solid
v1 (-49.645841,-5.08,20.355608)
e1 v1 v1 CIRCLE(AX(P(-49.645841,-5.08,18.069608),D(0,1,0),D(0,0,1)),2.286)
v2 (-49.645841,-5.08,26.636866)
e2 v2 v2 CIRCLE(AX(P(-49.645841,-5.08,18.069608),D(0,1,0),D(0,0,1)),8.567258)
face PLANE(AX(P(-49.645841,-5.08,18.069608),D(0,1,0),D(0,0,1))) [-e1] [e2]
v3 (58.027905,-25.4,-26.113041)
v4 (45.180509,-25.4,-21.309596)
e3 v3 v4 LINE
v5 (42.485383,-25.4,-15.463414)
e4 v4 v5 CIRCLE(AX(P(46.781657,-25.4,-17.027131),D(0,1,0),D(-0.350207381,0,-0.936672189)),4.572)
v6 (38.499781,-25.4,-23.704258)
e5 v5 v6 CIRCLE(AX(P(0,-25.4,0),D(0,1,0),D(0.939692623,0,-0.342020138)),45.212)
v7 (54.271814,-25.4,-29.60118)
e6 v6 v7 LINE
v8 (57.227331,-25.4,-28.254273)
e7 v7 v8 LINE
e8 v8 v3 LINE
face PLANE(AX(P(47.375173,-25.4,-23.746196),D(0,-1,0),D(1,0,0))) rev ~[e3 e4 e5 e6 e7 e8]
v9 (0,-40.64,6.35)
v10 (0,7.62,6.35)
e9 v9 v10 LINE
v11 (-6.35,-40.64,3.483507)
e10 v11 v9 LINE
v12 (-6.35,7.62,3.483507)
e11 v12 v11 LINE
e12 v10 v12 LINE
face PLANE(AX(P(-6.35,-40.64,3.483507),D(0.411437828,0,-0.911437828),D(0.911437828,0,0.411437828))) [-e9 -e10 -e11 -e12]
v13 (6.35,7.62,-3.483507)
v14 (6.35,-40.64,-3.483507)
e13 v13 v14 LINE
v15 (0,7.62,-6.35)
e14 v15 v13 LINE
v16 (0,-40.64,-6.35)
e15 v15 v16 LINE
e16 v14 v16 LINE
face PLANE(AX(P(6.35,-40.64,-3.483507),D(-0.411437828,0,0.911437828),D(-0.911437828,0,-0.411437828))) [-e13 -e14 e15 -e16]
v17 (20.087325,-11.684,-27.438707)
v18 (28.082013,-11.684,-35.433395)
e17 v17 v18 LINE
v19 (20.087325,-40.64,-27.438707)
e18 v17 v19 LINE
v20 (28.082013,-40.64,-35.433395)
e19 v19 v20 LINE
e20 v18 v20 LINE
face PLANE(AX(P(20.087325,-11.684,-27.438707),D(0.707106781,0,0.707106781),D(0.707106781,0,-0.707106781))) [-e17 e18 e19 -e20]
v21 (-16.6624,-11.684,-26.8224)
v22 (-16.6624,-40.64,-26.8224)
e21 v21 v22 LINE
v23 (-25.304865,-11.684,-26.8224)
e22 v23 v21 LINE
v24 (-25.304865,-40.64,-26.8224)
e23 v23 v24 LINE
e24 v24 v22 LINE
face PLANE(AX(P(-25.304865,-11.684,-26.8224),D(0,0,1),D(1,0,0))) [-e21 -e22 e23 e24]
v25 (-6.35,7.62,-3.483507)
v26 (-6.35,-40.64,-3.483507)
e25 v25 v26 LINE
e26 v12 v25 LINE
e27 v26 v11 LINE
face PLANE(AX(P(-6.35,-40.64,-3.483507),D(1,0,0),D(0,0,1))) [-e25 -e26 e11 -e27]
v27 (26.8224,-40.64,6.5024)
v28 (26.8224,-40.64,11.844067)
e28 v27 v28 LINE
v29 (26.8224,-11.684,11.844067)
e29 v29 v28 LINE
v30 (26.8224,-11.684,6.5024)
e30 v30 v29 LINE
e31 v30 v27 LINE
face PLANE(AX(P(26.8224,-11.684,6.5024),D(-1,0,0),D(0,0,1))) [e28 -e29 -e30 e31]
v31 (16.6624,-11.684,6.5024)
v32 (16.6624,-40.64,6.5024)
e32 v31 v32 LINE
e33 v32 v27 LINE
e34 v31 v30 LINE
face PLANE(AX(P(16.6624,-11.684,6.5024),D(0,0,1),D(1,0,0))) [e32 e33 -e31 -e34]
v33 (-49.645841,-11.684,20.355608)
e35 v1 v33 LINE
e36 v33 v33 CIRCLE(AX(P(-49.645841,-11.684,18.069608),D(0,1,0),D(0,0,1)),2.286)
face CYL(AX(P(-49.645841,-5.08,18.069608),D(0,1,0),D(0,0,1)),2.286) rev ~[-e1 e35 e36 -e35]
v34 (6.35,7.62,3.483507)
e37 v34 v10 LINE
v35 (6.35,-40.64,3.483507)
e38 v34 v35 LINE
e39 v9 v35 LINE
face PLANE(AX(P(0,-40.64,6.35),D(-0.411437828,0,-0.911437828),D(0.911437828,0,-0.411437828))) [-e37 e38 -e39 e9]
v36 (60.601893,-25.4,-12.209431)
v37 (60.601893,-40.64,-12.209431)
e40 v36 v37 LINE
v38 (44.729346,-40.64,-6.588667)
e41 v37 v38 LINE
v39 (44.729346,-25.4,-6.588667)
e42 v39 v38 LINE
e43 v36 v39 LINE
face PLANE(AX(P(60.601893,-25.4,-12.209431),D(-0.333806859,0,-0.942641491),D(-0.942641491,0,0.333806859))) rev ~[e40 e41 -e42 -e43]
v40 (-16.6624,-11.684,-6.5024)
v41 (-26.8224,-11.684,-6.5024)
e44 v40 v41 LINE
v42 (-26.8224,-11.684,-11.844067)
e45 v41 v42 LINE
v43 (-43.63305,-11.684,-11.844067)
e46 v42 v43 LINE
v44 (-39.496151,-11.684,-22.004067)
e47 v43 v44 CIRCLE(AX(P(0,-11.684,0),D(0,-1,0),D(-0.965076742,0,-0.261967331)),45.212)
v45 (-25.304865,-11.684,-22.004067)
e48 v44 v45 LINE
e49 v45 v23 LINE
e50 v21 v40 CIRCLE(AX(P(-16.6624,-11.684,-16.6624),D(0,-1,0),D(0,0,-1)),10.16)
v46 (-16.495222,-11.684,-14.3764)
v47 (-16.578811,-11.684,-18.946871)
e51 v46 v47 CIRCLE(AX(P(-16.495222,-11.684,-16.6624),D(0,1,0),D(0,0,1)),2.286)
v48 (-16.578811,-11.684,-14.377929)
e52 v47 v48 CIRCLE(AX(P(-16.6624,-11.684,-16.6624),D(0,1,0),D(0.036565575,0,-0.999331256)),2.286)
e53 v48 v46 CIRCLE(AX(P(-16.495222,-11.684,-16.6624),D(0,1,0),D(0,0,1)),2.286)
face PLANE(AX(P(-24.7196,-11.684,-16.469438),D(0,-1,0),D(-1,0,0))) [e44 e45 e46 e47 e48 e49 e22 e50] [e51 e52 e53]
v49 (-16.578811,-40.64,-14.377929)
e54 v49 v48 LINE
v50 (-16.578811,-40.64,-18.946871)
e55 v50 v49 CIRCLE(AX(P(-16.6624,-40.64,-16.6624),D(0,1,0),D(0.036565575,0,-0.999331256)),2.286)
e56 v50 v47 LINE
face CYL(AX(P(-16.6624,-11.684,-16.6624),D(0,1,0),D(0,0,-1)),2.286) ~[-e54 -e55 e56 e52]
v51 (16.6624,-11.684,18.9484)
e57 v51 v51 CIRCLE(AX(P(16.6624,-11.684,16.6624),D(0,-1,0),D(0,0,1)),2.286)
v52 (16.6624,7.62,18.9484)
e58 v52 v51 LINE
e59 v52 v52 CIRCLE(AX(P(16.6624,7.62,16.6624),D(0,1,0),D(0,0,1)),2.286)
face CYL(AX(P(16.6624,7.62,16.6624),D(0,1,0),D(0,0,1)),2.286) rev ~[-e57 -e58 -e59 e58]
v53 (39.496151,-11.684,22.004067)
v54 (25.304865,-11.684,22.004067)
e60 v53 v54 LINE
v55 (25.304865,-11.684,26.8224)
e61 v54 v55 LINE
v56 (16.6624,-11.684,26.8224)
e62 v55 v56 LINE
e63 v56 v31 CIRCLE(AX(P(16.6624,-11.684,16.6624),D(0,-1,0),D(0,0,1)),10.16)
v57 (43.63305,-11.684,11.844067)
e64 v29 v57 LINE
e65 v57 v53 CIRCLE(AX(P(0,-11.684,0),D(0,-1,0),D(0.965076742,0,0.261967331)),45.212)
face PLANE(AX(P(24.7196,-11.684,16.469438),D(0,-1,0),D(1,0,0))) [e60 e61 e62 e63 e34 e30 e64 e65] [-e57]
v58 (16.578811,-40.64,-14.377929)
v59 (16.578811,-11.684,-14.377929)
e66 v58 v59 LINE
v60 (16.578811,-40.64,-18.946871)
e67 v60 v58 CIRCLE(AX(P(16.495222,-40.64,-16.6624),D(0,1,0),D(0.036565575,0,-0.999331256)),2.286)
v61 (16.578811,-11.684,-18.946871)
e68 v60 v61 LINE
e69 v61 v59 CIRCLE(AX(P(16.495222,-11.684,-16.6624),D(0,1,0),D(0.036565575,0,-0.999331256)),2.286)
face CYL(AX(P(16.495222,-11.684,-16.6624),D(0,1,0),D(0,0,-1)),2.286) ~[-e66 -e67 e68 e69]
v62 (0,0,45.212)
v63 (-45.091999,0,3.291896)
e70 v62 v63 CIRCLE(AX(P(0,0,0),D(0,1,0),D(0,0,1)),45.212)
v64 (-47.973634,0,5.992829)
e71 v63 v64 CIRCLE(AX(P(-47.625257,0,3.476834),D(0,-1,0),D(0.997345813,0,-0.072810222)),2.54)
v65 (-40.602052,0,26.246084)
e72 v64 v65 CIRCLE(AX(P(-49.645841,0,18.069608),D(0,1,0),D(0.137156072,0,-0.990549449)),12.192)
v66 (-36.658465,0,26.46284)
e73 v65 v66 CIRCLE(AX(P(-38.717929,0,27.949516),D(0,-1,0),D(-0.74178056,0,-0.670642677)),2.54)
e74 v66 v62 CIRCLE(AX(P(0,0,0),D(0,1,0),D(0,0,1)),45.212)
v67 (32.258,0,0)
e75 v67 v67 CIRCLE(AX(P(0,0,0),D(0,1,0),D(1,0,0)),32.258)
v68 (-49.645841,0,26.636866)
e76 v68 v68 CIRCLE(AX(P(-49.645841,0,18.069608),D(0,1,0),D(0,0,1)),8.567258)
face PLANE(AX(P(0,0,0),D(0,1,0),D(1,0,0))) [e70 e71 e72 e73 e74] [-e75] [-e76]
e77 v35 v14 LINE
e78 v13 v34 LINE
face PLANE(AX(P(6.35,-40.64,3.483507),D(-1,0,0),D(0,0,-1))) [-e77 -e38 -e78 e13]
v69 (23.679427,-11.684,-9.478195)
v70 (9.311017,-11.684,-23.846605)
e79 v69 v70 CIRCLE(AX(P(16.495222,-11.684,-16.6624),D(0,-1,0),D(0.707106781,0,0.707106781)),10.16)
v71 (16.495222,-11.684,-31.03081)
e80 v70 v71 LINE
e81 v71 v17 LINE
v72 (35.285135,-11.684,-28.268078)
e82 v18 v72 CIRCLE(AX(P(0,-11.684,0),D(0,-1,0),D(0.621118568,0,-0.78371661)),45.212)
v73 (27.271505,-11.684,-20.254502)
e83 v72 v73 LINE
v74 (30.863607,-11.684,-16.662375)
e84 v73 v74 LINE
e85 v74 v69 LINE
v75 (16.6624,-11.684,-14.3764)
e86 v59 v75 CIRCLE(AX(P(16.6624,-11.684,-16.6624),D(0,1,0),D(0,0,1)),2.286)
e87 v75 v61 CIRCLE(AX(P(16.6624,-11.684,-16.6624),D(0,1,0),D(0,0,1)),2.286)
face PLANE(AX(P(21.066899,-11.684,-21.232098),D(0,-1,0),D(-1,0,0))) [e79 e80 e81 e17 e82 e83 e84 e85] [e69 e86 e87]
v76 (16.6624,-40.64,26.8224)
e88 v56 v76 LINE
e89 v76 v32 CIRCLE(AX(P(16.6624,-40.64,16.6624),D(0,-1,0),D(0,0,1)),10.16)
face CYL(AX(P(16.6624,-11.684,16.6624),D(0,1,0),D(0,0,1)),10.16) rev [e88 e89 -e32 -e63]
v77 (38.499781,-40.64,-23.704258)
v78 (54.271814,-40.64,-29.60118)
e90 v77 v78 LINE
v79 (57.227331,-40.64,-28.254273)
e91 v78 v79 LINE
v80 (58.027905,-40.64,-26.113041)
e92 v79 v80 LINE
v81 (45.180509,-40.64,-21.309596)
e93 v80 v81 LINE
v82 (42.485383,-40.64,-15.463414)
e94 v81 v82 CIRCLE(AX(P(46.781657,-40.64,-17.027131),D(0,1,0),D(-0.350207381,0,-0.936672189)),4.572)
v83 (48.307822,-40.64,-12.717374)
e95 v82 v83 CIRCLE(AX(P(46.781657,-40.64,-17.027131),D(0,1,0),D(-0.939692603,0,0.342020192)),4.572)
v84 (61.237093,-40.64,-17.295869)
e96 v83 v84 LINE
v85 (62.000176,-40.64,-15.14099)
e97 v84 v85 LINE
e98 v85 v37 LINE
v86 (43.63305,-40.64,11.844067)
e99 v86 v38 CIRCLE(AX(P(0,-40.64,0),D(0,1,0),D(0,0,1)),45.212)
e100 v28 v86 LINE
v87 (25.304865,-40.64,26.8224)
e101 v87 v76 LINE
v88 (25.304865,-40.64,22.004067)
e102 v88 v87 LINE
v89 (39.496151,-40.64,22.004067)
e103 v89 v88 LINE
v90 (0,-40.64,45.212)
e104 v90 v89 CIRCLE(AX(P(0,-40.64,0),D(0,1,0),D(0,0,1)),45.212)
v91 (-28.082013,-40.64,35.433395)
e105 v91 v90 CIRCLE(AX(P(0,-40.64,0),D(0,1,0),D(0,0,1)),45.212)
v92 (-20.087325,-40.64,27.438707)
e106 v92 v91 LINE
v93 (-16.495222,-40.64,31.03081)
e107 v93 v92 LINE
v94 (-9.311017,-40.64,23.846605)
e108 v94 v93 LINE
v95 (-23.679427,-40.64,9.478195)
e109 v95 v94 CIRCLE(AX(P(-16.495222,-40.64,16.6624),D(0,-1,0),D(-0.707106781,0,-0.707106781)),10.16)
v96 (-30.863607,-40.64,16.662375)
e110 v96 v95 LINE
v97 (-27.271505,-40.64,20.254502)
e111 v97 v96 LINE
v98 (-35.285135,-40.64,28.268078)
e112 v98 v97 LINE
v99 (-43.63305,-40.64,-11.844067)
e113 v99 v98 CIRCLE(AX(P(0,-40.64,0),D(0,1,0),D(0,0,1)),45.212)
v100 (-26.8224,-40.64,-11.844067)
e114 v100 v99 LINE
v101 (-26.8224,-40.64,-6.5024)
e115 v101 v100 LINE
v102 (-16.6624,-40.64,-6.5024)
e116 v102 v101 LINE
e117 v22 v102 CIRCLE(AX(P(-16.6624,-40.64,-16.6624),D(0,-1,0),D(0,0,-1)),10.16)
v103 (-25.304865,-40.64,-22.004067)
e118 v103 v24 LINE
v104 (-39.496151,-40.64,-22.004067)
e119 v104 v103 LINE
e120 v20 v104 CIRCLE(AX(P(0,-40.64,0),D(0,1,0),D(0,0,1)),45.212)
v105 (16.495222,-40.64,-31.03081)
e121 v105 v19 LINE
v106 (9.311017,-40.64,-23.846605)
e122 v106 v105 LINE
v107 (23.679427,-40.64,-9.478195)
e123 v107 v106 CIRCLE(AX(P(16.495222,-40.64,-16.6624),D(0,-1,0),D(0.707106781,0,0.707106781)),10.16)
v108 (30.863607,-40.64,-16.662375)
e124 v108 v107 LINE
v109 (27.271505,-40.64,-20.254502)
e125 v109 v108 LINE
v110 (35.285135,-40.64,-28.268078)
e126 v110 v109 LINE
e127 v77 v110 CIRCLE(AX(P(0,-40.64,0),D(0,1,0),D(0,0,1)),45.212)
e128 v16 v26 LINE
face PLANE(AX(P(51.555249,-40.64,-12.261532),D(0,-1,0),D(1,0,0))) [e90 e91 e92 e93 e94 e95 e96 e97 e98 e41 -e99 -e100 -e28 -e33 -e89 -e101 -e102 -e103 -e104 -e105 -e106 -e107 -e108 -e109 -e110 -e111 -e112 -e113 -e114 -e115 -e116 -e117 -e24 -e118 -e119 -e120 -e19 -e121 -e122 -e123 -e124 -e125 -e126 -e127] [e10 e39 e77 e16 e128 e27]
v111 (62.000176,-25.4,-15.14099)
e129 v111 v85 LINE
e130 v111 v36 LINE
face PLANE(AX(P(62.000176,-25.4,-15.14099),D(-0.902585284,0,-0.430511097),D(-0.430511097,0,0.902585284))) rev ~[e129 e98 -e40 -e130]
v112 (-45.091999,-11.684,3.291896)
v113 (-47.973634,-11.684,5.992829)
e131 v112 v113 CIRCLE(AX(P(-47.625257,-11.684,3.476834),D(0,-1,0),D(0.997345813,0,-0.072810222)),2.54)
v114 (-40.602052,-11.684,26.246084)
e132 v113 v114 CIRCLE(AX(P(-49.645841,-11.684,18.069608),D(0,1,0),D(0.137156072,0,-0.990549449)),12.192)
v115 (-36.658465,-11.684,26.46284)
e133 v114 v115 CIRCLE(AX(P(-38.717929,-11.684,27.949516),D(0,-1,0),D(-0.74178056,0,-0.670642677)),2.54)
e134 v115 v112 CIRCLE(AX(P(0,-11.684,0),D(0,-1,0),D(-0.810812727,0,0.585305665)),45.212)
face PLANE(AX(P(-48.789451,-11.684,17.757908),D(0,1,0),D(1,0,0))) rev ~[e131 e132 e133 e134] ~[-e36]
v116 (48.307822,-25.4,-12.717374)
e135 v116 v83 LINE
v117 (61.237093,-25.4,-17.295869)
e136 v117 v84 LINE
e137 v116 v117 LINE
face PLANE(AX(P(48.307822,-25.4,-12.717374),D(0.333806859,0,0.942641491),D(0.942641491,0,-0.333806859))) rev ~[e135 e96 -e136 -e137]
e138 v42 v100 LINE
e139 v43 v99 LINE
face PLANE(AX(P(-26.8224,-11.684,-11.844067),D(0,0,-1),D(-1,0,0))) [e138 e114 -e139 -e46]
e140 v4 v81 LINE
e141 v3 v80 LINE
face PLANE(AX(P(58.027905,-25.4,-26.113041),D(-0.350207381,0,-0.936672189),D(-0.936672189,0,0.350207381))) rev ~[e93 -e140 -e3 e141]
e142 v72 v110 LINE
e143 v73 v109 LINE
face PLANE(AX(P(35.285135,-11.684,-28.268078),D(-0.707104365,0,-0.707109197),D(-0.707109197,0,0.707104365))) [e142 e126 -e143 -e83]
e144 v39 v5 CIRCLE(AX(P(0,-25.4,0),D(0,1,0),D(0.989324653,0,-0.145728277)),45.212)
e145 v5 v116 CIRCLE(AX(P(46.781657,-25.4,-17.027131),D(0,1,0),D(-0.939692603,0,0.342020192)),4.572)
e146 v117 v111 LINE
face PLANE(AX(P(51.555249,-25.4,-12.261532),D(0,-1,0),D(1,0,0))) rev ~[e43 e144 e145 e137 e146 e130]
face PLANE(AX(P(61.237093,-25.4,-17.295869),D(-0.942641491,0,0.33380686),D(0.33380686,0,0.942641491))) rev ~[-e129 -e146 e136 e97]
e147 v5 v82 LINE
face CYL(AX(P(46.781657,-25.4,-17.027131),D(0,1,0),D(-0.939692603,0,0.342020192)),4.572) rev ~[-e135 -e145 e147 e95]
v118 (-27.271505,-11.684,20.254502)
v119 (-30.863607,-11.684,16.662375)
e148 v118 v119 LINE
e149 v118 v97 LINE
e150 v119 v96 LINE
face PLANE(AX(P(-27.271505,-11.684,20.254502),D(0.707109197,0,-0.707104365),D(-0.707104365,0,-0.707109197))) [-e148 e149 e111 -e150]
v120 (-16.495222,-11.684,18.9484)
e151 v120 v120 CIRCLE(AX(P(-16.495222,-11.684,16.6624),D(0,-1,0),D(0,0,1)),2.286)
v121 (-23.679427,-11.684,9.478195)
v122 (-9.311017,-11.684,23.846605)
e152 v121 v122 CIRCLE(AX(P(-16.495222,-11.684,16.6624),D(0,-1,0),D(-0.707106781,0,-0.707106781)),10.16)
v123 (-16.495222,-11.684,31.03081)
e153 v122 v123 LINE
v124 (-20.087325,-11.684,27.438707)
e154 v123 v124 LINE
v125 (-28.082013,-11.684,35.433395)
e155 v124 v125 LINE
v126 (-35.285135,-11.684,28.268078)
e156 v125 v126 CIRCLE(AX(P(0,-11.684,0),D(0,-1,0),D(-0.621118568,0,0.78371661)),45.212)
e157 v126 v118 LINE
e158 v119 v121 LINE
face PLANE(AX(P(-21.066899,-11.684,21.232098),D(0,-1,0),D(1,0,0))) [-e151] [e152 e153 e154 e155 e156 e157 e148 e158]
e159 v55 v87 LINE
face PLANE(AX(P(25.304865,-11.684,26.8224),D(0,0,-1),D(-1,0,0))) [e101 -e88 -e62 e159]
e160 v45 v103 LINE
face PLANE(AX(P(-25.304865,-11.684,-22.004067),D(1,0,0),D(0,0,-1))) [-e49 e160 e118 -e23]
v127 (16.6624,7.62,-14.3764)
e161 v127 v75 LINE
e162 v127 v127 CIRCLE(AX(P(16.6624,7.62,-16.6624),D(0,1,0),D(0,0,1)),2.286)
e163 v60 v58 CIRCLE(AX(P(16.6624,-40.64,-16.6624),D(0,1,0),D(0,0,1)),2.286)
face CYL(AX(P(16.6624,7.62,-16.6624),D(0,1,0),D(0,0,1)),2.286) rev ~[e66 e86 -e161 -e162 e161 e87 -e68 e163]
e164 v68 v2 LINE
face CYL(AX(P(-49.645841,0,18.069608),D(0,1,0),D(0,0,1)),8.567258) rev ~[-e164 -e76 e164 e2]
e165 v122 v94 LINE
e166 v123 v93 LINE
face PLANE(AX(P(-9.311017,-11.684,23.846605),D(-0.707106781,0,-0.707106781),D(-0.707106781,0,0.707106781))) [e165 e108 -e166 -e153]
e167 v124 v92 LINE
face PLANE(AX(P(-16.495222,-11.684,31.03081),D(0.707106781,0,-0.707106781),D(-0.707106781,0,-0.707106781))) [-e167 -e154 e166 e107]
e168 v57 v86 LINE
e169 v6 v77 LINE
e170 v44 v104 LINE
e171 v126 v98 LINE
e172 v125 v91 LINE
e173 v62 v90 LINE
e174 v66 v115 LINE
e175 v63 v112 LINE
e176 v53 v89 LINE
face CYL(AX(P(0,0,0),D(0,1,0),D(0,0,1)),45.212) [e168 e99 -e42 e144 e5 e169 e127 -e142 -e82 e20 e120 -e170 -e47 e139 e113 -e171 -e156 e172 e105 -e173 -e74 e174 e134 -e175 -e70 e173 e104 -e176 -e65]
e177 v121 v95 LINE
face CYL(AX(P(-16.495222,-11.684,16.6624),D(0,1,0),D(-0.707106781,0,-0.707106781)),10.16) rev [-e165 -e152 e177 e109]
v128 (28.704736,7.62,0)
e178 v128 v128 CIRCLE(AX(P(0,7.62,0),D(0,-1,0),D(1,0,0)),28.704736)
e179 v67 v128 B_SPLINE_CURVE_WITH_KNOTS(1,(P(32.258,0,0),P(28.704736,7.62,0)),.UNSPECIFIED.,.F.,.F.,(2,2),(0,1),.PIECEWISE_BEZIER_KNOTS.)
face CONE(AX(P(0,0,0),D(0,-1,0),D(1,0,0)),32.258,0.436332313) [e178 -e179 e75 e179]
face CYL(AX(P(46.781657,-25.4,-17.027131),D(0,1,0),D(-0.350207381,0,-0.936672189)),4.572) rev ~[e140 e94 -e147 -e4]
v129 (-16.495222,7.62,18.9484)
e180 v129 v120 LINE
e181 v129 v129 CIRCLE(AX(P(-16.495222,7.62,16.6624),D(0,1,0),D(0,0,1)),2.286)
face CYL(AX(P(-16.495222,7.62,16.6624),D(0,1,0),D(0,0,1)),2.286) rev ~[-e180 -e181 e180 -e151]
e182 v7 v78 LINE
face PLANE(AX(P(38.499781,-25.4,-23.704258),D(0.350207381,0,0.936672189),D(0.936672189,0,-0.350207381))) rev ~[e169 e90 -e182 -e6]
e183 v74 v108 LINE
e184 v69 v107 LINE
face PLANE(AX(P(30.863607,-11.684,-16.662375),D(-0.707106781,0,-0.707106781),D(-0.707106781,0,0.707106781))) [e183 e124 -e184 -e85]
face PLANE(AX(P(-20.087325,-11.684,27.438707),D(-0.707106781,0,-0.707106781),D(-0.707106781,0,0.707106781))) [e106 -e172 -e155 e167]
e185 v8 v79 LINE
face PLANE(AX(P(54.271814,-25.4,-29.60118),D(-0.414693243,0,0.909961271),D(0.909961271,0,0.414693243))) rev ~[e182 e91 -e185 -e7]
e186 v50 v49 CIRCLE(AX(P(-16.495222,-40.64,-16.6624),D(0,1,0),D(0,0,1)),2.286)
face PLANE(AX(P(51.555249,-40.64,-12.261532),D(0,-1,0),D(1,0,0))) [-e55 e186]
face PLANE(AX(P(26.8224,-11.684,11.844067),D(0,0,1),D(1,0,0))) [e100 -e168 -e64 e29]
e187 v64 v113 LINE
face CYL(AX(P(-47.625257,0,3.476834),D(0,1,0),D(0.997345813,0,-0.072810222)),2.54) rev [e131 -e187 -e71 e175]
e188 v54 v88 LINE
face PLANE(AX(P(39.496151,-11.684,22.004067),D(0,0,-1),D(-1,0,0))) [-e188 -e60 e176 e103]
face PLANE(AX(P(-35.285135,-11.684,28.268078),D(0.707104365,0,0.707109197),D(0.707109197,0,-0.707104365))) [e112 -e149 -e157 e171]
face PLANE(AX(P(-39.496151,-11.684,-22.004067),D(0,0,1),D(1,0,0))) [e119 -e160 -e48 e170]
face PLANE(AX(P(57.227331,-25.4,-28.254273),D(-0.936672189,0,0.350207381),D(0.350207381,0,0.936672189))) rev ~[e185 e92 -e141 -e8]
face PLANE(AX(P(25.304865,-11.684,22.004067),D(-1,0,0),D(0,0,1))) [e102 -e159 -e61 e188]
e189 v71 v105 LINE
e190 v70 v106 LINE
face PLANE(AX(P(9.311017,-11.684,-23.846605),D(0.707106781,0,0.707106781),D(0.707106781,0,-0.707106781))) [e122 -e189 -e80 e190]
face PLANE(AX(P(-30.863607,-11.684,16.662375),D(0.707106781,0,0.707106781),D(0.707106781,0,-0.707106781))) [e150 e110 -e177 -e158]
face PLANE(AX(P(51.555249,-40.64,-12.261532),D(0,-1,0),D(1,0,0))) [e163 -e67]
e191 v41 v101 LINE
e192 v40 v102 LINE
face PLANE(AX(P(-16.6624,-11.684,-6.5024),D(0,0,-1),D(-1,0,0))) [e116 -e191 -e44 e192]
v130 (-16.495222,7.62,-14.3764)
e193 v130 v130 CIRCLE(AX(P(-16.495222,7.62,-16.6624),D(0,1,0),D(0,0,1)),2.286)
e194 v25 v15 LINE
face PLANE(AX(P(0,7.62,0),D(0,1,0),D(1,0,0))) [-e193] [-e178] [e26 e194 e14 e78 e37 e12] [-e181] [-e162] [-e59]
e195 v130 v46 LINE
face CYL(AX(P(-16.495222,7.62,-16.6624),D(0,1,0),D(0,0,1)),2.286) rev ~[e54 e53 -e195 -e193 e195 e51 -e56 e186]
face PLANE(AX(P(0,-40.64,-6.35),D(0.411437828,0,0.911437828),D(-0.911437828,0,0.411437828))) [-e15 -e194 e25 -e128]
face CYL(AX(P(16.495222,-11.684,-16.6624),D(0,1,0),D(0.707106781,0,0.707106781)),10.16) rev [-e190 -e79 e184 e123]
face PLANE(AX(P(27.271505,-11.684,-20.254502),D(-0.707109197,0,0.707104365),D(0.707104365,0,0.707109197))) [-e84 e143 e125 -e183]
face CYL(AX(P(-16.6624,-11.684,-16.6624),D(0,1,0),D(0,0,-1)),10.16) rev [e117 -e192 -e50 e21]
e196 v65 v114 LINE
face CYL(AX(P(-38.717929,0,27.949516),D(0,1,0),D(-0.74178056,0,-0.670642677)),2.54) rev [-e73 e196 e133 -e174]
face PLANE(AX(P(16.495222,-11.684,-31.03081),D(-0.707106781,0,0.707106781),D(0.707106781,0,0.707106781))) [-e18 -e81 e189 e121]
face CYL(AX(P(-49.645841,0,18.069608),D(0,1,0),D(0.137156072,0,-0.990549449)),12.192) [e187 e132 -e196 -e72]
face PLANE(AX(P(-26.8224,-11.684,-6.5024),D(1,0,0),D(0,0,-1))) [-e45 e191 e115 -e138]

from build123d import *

# Parameters (mm, degrees)
SKETCH2_R           = 45.212
SKETCH2_R_2         = 32.258
BOSS_EXTRUDE3_DEPTH = 40.64
SKETCH4_R           = 32.258
BOSS_EXTRUDE4_DEPTH = 7.62
BOSS_EXTRUDE4_TAPER = 25
CUT_EXTRUDE1_DEPTH  = 81.10791158
SKETCH7_R           = 2.286
CUT_EXTRUDE2_DEPTH  = 81.107911519
BOSS_EXTRUDE8_START = -7.62
BOSS_EXTRUDE8_DEPTH = 11.684
SKETCH18_R          = 8.567257543
CUT_EXTRUDE3_DEPTH  = 5.08
SKETCH19_R          = 2.286
CUT_EXTRUDE4_DEPTH  = 85.454467418
BOSS_EXTRUDE9_START = -15.24
BOSS_EXTRUDE9_DEPTH = 15.24
CUT_EXTRUDE5_START  = -28.956
SKETCH21_R          = 2.286
CUT_EXTRUDE5_DEPTH  = 28.956
CIRPATTERN1_COUNT   = 2


with BuildPart() as part:
    # Sketch2 → Boss-Extrude3 (new body)
    # profile 1 of 2: a face of its own
    with BuildSketch(Plane(origin=(0, 0, 0), x_dir=(1, 0, 0), z_dir=(0, 1, 0))):
        with Locations(Location((0, 0, 0), (0, 0, 270))):
            Circle(SKETCH2_R)
        Circle(SKETCH2_R_2, mode=Mode.SUBTRACT)
    # profile 2 of 2: a face of its own
    with BuildSketch(Plane(origin=(0, 0, 0), x_dir=(1, 0, 0), z_dir=(0, 1, 0))):
        Circle(SKETCH2_R_2)
        Polygon((0, 6.35), (-6.35, 3.483506942), (-6.35, -3.483506942), (0, -6.35), (6.35, -3.483506942), (6.35, 3.483506942), align=None, mode=Mode.SUBTRACT)
    extrude(amount=-BOSS_EXTRUDE3_DEPTH)

    # Sketch4 → Boss-Extrude4 (add)
    with BuildSketch(Plane(origin=(0, 0, 0), x_dir=(1, 0, 0), z_dir=(0, 1, 0))):
        Circle(SKETCH4_R)
    extrude(amount=BOSS_EXTRUDE4_DEPTH, taper=BOSS_EXTRUDE4_TAPER)

    # Sketch6 → Cut-Extrude1 (cut, through all)
    with BuildSketch(Plane(origin=(0, -40.64, 0), x_dir=(-1, 0, 0), z_dir=(0, -1, 0))):
        Polygon((6.35, -3.483506942), (0, -6.35), (-6.35, -3.483506942), (-6.35, 3.483506942), (0, 6.35), (6.35, 3.483506942), align=None)
    extrude(amount=-CUT_EXTRUDE1_DEPTH, mode=Mode.SUBTRACT)

    # Sketch7 → Cut-Extrude2 (cut, through all)
    with BuildSketch(Plane(origin=(0, 7.62, 0), x_dir=(1, 0, 0), z_dir=(0, 1, 0))):
        with Locations(Location((-16.495222192, 16.6624, 0), (0, 0, 270))):
            Circle(SKETCH7_R)
        with Locations(Location((16.6624, 16.6624, 0), (0, 0, 270))):
            Circle(SKETCH7_R)
        with Locations(Location((16.6624, -16.6624, 0), (0, 0, 270))):
            Circle(SKETCH7_R)
        with Locations(Location((-16.495222192, -16.6624, 0), (0, 0, 270))):
            Circle(SKETCH7_R)
    extrude(amount=-CUT_EXTRUDE2_DEPTH, mode=Mode.SUBTRACT)

    # Sketch12 → Boss-Extrude8 (add)
    with BuildSketch(Plane(origin=(0, 7.62, 0), x_dir=(1, 0, 0), z_dir=(0, 1, 0)).offset(BOSS_EXTRUDE8_START)):
        with BuildLine():
            ThreePointArc((-45.091998917, -3.291895759), (-45.888251869, -5.330050438), (-47.973633707, -5.992829324))
            ThreePointArc((-47.973633707, -5.992829324), (-61.102572974, -22.2395178), (-40.602051954, -26.246083736))
            ThreePointArc((-40.602051954, -26.246083736), (-38.578530729, -25.413344212), (-36.658465006, -26.462839746))
            ThreePointArc((-36.658465006, -26.462839746), (-42.485382771, -15.46341472), (-45.091998917, -3.291895759))
        make_face()
    extrude(amount=-BOSS_EXTRUDE8_DEPTH)

    # Sketch18 → Cut-Extrude3 (cut)
    with BuildSketch(Plane(origin=(0, 0, 0), x_dir=(1, 0, 0), z_dir=(0, 1, 0))):
        with Locations(Location((-49.645840541, -18.069608212, 0), (0, 0, 270))):
            Circle(SKETCH18_R)
    extrude(amount=-CUT_EXTRUDE3_DEPTH, mode=Mode.SUBTRACT)

    # Sketch19 → Cut-Extrude4 (cut, through all)
    with BuildSketch(Plane(origin=(0, -5.08, 0), x_dir=(1, 0, 0), z_dir=(0, 1, 0))):
        with Locations(Location((-49.645840541, -18.069608212, 0), (0, 0, 270))):
            Circle(SKETCH19_R)
    extrude(amount=-CUT_EXTRUDE4_DEPTH, mode=Mode.SUBTRACT)

    # Sketch20 → Boss-Extrude9 (add)
    with BuildSketch(Plane.XZ.offset(40.64).offset(BOSS_EXTRUDE9_START)):
        with BuildLine():
            ThreePointArc((42.485382852, -15.463414497), (44.831385262, -12.89196184), (48.307822394, -12.717373918))
            Line((48.307822394, -12.717373918), (61.237093085, -17.295868799))
            Line((61.237093085, -17.295868799), (62.000175566, -15.140990351))
            Line((62.000175566, -15.140990351), (60.601893265, -12.209430544))
            Line((60.601893265, -12.209430544), (44.72934622, -6.588666841))
            ThreePointArc((44.72934622, -6.588666841), (43.832551012, -11.082978649), (42.485382852, -15.463414497))
        make_face()
        with BuildLine():
            ThreePointArc((45.180509286, -21.309596065), (42.629626793, -18.941243028), (42.485382852, -15.463414497))
            ThreePointArc((42.485382852, -15.463414497), (40.701683588, -19.684966271), (38.499780526, -23.704257918))
            Line((38.499780526, -23.704257918), (54.271814253, -29.601179693))
            Line((54.271814253, -29.601179693), (57.22733096, -28.254273131))
            Line((57.22733096, -28.254273131), (58.027905034, -26.113040506))
            Line((58.027905034, -26.113040506), (45.180509286, -21.309596065))
        make_face()
    extrude(amount=BOSS_EXTRUDE9_DEPTH)

    # Sketch21 → Cut-Extrude5 (cut)
    # profile 1 of 2: a face of its own
    with BuildSketch(Plane.XZ.offset(40.64).offset(CUT_EXTRUDE5_START)):
        with BuildLine():
            Line((-20.08732464, 27.438707345), (-28.082012675, 35.43339538))
            ThreePointArc((-28.082012675, 35.43339538), (-31.885487137, 32.053715136), (-35.285134805, 28.268077504))
            Line((-35.285134805, 28.268077504), (-27.271504992, 20.254502449))
            Line((-27.271504992, 20.254502449), (-30.86360744, 16.662375455))
            Line((-30.86360744, 16.662375455), (-23.679427089, 9.478195103))
            ThreePointArc((-23.679427089, 9.478195103), (-9.311017295, 9.478195103), (-9.311017295, 23.846604897))
            Line((-9.311017295, 23.846604897), (-16.495222192, 31.030809794))
            Line((-16.495222192, 31.030809794), (-20.08732464, 27.438707345))
        make_face()
        with Locations(Location((-16.495222192, 16.6624, 0), (0, 0, 90))):
            Circle(SKETCH21_R, mode=Mode.SUBTRACT)
    # profile 2 of 2: a face of its own
    with BuildSketch(Plane.XZ.offset(40.64).offset(CUT_EXTRUDE5_START)):
        with BuildLine():
            ThreePointArc((16.6624, 26.8224), (6.5024, 16.6624), (16.6624, 6.5024))
            Line((16.6624, 6.5024), (26.8224, 6.5024))
            Line((26.8224, 6.5024), (26.8224, 11.844066963))
            Line((26.8224, 11.844066963), (43.63304965, 11.844066963))
            ThreePointArc((43.63304965, 11.844066963), (41.873887087, 17.050000709), (39.496151472, 22.004066963))
            Line((39.496151472, 22.004066963), (25.304864582, 22.004066963))
            Line((25.304864582, 22.004066963), (25.304864582, 26.8224))
            Line((25.304864582, 26.8224), (16.6624, 26.8224))
        make_face()
        with Locations(Location((16.6624, 16.6624, 0), (0, 0, 90))):
            Circle(SKETCH21_R, mode=Mode.SUBTRACT)
    cut_extrude5 = extrude(amount=CUT_EXTRUDE5_DEPTH, mode=Mode.SUBTRACT)

    # CirPattern1: Cut-Extrude5 ×2 about axis
    cirpattern1_axis = Axis((0, 0, 0), (0, 1, 0))
    for i in range(1, CIRPATTERN1_COUNT):
        add(cut_extrude5.rotate(cirpattern1_axis, i * 360 / CIRPATTERN1_COUNT), mode=Mode.SUBTRACT)


solid = part.part
